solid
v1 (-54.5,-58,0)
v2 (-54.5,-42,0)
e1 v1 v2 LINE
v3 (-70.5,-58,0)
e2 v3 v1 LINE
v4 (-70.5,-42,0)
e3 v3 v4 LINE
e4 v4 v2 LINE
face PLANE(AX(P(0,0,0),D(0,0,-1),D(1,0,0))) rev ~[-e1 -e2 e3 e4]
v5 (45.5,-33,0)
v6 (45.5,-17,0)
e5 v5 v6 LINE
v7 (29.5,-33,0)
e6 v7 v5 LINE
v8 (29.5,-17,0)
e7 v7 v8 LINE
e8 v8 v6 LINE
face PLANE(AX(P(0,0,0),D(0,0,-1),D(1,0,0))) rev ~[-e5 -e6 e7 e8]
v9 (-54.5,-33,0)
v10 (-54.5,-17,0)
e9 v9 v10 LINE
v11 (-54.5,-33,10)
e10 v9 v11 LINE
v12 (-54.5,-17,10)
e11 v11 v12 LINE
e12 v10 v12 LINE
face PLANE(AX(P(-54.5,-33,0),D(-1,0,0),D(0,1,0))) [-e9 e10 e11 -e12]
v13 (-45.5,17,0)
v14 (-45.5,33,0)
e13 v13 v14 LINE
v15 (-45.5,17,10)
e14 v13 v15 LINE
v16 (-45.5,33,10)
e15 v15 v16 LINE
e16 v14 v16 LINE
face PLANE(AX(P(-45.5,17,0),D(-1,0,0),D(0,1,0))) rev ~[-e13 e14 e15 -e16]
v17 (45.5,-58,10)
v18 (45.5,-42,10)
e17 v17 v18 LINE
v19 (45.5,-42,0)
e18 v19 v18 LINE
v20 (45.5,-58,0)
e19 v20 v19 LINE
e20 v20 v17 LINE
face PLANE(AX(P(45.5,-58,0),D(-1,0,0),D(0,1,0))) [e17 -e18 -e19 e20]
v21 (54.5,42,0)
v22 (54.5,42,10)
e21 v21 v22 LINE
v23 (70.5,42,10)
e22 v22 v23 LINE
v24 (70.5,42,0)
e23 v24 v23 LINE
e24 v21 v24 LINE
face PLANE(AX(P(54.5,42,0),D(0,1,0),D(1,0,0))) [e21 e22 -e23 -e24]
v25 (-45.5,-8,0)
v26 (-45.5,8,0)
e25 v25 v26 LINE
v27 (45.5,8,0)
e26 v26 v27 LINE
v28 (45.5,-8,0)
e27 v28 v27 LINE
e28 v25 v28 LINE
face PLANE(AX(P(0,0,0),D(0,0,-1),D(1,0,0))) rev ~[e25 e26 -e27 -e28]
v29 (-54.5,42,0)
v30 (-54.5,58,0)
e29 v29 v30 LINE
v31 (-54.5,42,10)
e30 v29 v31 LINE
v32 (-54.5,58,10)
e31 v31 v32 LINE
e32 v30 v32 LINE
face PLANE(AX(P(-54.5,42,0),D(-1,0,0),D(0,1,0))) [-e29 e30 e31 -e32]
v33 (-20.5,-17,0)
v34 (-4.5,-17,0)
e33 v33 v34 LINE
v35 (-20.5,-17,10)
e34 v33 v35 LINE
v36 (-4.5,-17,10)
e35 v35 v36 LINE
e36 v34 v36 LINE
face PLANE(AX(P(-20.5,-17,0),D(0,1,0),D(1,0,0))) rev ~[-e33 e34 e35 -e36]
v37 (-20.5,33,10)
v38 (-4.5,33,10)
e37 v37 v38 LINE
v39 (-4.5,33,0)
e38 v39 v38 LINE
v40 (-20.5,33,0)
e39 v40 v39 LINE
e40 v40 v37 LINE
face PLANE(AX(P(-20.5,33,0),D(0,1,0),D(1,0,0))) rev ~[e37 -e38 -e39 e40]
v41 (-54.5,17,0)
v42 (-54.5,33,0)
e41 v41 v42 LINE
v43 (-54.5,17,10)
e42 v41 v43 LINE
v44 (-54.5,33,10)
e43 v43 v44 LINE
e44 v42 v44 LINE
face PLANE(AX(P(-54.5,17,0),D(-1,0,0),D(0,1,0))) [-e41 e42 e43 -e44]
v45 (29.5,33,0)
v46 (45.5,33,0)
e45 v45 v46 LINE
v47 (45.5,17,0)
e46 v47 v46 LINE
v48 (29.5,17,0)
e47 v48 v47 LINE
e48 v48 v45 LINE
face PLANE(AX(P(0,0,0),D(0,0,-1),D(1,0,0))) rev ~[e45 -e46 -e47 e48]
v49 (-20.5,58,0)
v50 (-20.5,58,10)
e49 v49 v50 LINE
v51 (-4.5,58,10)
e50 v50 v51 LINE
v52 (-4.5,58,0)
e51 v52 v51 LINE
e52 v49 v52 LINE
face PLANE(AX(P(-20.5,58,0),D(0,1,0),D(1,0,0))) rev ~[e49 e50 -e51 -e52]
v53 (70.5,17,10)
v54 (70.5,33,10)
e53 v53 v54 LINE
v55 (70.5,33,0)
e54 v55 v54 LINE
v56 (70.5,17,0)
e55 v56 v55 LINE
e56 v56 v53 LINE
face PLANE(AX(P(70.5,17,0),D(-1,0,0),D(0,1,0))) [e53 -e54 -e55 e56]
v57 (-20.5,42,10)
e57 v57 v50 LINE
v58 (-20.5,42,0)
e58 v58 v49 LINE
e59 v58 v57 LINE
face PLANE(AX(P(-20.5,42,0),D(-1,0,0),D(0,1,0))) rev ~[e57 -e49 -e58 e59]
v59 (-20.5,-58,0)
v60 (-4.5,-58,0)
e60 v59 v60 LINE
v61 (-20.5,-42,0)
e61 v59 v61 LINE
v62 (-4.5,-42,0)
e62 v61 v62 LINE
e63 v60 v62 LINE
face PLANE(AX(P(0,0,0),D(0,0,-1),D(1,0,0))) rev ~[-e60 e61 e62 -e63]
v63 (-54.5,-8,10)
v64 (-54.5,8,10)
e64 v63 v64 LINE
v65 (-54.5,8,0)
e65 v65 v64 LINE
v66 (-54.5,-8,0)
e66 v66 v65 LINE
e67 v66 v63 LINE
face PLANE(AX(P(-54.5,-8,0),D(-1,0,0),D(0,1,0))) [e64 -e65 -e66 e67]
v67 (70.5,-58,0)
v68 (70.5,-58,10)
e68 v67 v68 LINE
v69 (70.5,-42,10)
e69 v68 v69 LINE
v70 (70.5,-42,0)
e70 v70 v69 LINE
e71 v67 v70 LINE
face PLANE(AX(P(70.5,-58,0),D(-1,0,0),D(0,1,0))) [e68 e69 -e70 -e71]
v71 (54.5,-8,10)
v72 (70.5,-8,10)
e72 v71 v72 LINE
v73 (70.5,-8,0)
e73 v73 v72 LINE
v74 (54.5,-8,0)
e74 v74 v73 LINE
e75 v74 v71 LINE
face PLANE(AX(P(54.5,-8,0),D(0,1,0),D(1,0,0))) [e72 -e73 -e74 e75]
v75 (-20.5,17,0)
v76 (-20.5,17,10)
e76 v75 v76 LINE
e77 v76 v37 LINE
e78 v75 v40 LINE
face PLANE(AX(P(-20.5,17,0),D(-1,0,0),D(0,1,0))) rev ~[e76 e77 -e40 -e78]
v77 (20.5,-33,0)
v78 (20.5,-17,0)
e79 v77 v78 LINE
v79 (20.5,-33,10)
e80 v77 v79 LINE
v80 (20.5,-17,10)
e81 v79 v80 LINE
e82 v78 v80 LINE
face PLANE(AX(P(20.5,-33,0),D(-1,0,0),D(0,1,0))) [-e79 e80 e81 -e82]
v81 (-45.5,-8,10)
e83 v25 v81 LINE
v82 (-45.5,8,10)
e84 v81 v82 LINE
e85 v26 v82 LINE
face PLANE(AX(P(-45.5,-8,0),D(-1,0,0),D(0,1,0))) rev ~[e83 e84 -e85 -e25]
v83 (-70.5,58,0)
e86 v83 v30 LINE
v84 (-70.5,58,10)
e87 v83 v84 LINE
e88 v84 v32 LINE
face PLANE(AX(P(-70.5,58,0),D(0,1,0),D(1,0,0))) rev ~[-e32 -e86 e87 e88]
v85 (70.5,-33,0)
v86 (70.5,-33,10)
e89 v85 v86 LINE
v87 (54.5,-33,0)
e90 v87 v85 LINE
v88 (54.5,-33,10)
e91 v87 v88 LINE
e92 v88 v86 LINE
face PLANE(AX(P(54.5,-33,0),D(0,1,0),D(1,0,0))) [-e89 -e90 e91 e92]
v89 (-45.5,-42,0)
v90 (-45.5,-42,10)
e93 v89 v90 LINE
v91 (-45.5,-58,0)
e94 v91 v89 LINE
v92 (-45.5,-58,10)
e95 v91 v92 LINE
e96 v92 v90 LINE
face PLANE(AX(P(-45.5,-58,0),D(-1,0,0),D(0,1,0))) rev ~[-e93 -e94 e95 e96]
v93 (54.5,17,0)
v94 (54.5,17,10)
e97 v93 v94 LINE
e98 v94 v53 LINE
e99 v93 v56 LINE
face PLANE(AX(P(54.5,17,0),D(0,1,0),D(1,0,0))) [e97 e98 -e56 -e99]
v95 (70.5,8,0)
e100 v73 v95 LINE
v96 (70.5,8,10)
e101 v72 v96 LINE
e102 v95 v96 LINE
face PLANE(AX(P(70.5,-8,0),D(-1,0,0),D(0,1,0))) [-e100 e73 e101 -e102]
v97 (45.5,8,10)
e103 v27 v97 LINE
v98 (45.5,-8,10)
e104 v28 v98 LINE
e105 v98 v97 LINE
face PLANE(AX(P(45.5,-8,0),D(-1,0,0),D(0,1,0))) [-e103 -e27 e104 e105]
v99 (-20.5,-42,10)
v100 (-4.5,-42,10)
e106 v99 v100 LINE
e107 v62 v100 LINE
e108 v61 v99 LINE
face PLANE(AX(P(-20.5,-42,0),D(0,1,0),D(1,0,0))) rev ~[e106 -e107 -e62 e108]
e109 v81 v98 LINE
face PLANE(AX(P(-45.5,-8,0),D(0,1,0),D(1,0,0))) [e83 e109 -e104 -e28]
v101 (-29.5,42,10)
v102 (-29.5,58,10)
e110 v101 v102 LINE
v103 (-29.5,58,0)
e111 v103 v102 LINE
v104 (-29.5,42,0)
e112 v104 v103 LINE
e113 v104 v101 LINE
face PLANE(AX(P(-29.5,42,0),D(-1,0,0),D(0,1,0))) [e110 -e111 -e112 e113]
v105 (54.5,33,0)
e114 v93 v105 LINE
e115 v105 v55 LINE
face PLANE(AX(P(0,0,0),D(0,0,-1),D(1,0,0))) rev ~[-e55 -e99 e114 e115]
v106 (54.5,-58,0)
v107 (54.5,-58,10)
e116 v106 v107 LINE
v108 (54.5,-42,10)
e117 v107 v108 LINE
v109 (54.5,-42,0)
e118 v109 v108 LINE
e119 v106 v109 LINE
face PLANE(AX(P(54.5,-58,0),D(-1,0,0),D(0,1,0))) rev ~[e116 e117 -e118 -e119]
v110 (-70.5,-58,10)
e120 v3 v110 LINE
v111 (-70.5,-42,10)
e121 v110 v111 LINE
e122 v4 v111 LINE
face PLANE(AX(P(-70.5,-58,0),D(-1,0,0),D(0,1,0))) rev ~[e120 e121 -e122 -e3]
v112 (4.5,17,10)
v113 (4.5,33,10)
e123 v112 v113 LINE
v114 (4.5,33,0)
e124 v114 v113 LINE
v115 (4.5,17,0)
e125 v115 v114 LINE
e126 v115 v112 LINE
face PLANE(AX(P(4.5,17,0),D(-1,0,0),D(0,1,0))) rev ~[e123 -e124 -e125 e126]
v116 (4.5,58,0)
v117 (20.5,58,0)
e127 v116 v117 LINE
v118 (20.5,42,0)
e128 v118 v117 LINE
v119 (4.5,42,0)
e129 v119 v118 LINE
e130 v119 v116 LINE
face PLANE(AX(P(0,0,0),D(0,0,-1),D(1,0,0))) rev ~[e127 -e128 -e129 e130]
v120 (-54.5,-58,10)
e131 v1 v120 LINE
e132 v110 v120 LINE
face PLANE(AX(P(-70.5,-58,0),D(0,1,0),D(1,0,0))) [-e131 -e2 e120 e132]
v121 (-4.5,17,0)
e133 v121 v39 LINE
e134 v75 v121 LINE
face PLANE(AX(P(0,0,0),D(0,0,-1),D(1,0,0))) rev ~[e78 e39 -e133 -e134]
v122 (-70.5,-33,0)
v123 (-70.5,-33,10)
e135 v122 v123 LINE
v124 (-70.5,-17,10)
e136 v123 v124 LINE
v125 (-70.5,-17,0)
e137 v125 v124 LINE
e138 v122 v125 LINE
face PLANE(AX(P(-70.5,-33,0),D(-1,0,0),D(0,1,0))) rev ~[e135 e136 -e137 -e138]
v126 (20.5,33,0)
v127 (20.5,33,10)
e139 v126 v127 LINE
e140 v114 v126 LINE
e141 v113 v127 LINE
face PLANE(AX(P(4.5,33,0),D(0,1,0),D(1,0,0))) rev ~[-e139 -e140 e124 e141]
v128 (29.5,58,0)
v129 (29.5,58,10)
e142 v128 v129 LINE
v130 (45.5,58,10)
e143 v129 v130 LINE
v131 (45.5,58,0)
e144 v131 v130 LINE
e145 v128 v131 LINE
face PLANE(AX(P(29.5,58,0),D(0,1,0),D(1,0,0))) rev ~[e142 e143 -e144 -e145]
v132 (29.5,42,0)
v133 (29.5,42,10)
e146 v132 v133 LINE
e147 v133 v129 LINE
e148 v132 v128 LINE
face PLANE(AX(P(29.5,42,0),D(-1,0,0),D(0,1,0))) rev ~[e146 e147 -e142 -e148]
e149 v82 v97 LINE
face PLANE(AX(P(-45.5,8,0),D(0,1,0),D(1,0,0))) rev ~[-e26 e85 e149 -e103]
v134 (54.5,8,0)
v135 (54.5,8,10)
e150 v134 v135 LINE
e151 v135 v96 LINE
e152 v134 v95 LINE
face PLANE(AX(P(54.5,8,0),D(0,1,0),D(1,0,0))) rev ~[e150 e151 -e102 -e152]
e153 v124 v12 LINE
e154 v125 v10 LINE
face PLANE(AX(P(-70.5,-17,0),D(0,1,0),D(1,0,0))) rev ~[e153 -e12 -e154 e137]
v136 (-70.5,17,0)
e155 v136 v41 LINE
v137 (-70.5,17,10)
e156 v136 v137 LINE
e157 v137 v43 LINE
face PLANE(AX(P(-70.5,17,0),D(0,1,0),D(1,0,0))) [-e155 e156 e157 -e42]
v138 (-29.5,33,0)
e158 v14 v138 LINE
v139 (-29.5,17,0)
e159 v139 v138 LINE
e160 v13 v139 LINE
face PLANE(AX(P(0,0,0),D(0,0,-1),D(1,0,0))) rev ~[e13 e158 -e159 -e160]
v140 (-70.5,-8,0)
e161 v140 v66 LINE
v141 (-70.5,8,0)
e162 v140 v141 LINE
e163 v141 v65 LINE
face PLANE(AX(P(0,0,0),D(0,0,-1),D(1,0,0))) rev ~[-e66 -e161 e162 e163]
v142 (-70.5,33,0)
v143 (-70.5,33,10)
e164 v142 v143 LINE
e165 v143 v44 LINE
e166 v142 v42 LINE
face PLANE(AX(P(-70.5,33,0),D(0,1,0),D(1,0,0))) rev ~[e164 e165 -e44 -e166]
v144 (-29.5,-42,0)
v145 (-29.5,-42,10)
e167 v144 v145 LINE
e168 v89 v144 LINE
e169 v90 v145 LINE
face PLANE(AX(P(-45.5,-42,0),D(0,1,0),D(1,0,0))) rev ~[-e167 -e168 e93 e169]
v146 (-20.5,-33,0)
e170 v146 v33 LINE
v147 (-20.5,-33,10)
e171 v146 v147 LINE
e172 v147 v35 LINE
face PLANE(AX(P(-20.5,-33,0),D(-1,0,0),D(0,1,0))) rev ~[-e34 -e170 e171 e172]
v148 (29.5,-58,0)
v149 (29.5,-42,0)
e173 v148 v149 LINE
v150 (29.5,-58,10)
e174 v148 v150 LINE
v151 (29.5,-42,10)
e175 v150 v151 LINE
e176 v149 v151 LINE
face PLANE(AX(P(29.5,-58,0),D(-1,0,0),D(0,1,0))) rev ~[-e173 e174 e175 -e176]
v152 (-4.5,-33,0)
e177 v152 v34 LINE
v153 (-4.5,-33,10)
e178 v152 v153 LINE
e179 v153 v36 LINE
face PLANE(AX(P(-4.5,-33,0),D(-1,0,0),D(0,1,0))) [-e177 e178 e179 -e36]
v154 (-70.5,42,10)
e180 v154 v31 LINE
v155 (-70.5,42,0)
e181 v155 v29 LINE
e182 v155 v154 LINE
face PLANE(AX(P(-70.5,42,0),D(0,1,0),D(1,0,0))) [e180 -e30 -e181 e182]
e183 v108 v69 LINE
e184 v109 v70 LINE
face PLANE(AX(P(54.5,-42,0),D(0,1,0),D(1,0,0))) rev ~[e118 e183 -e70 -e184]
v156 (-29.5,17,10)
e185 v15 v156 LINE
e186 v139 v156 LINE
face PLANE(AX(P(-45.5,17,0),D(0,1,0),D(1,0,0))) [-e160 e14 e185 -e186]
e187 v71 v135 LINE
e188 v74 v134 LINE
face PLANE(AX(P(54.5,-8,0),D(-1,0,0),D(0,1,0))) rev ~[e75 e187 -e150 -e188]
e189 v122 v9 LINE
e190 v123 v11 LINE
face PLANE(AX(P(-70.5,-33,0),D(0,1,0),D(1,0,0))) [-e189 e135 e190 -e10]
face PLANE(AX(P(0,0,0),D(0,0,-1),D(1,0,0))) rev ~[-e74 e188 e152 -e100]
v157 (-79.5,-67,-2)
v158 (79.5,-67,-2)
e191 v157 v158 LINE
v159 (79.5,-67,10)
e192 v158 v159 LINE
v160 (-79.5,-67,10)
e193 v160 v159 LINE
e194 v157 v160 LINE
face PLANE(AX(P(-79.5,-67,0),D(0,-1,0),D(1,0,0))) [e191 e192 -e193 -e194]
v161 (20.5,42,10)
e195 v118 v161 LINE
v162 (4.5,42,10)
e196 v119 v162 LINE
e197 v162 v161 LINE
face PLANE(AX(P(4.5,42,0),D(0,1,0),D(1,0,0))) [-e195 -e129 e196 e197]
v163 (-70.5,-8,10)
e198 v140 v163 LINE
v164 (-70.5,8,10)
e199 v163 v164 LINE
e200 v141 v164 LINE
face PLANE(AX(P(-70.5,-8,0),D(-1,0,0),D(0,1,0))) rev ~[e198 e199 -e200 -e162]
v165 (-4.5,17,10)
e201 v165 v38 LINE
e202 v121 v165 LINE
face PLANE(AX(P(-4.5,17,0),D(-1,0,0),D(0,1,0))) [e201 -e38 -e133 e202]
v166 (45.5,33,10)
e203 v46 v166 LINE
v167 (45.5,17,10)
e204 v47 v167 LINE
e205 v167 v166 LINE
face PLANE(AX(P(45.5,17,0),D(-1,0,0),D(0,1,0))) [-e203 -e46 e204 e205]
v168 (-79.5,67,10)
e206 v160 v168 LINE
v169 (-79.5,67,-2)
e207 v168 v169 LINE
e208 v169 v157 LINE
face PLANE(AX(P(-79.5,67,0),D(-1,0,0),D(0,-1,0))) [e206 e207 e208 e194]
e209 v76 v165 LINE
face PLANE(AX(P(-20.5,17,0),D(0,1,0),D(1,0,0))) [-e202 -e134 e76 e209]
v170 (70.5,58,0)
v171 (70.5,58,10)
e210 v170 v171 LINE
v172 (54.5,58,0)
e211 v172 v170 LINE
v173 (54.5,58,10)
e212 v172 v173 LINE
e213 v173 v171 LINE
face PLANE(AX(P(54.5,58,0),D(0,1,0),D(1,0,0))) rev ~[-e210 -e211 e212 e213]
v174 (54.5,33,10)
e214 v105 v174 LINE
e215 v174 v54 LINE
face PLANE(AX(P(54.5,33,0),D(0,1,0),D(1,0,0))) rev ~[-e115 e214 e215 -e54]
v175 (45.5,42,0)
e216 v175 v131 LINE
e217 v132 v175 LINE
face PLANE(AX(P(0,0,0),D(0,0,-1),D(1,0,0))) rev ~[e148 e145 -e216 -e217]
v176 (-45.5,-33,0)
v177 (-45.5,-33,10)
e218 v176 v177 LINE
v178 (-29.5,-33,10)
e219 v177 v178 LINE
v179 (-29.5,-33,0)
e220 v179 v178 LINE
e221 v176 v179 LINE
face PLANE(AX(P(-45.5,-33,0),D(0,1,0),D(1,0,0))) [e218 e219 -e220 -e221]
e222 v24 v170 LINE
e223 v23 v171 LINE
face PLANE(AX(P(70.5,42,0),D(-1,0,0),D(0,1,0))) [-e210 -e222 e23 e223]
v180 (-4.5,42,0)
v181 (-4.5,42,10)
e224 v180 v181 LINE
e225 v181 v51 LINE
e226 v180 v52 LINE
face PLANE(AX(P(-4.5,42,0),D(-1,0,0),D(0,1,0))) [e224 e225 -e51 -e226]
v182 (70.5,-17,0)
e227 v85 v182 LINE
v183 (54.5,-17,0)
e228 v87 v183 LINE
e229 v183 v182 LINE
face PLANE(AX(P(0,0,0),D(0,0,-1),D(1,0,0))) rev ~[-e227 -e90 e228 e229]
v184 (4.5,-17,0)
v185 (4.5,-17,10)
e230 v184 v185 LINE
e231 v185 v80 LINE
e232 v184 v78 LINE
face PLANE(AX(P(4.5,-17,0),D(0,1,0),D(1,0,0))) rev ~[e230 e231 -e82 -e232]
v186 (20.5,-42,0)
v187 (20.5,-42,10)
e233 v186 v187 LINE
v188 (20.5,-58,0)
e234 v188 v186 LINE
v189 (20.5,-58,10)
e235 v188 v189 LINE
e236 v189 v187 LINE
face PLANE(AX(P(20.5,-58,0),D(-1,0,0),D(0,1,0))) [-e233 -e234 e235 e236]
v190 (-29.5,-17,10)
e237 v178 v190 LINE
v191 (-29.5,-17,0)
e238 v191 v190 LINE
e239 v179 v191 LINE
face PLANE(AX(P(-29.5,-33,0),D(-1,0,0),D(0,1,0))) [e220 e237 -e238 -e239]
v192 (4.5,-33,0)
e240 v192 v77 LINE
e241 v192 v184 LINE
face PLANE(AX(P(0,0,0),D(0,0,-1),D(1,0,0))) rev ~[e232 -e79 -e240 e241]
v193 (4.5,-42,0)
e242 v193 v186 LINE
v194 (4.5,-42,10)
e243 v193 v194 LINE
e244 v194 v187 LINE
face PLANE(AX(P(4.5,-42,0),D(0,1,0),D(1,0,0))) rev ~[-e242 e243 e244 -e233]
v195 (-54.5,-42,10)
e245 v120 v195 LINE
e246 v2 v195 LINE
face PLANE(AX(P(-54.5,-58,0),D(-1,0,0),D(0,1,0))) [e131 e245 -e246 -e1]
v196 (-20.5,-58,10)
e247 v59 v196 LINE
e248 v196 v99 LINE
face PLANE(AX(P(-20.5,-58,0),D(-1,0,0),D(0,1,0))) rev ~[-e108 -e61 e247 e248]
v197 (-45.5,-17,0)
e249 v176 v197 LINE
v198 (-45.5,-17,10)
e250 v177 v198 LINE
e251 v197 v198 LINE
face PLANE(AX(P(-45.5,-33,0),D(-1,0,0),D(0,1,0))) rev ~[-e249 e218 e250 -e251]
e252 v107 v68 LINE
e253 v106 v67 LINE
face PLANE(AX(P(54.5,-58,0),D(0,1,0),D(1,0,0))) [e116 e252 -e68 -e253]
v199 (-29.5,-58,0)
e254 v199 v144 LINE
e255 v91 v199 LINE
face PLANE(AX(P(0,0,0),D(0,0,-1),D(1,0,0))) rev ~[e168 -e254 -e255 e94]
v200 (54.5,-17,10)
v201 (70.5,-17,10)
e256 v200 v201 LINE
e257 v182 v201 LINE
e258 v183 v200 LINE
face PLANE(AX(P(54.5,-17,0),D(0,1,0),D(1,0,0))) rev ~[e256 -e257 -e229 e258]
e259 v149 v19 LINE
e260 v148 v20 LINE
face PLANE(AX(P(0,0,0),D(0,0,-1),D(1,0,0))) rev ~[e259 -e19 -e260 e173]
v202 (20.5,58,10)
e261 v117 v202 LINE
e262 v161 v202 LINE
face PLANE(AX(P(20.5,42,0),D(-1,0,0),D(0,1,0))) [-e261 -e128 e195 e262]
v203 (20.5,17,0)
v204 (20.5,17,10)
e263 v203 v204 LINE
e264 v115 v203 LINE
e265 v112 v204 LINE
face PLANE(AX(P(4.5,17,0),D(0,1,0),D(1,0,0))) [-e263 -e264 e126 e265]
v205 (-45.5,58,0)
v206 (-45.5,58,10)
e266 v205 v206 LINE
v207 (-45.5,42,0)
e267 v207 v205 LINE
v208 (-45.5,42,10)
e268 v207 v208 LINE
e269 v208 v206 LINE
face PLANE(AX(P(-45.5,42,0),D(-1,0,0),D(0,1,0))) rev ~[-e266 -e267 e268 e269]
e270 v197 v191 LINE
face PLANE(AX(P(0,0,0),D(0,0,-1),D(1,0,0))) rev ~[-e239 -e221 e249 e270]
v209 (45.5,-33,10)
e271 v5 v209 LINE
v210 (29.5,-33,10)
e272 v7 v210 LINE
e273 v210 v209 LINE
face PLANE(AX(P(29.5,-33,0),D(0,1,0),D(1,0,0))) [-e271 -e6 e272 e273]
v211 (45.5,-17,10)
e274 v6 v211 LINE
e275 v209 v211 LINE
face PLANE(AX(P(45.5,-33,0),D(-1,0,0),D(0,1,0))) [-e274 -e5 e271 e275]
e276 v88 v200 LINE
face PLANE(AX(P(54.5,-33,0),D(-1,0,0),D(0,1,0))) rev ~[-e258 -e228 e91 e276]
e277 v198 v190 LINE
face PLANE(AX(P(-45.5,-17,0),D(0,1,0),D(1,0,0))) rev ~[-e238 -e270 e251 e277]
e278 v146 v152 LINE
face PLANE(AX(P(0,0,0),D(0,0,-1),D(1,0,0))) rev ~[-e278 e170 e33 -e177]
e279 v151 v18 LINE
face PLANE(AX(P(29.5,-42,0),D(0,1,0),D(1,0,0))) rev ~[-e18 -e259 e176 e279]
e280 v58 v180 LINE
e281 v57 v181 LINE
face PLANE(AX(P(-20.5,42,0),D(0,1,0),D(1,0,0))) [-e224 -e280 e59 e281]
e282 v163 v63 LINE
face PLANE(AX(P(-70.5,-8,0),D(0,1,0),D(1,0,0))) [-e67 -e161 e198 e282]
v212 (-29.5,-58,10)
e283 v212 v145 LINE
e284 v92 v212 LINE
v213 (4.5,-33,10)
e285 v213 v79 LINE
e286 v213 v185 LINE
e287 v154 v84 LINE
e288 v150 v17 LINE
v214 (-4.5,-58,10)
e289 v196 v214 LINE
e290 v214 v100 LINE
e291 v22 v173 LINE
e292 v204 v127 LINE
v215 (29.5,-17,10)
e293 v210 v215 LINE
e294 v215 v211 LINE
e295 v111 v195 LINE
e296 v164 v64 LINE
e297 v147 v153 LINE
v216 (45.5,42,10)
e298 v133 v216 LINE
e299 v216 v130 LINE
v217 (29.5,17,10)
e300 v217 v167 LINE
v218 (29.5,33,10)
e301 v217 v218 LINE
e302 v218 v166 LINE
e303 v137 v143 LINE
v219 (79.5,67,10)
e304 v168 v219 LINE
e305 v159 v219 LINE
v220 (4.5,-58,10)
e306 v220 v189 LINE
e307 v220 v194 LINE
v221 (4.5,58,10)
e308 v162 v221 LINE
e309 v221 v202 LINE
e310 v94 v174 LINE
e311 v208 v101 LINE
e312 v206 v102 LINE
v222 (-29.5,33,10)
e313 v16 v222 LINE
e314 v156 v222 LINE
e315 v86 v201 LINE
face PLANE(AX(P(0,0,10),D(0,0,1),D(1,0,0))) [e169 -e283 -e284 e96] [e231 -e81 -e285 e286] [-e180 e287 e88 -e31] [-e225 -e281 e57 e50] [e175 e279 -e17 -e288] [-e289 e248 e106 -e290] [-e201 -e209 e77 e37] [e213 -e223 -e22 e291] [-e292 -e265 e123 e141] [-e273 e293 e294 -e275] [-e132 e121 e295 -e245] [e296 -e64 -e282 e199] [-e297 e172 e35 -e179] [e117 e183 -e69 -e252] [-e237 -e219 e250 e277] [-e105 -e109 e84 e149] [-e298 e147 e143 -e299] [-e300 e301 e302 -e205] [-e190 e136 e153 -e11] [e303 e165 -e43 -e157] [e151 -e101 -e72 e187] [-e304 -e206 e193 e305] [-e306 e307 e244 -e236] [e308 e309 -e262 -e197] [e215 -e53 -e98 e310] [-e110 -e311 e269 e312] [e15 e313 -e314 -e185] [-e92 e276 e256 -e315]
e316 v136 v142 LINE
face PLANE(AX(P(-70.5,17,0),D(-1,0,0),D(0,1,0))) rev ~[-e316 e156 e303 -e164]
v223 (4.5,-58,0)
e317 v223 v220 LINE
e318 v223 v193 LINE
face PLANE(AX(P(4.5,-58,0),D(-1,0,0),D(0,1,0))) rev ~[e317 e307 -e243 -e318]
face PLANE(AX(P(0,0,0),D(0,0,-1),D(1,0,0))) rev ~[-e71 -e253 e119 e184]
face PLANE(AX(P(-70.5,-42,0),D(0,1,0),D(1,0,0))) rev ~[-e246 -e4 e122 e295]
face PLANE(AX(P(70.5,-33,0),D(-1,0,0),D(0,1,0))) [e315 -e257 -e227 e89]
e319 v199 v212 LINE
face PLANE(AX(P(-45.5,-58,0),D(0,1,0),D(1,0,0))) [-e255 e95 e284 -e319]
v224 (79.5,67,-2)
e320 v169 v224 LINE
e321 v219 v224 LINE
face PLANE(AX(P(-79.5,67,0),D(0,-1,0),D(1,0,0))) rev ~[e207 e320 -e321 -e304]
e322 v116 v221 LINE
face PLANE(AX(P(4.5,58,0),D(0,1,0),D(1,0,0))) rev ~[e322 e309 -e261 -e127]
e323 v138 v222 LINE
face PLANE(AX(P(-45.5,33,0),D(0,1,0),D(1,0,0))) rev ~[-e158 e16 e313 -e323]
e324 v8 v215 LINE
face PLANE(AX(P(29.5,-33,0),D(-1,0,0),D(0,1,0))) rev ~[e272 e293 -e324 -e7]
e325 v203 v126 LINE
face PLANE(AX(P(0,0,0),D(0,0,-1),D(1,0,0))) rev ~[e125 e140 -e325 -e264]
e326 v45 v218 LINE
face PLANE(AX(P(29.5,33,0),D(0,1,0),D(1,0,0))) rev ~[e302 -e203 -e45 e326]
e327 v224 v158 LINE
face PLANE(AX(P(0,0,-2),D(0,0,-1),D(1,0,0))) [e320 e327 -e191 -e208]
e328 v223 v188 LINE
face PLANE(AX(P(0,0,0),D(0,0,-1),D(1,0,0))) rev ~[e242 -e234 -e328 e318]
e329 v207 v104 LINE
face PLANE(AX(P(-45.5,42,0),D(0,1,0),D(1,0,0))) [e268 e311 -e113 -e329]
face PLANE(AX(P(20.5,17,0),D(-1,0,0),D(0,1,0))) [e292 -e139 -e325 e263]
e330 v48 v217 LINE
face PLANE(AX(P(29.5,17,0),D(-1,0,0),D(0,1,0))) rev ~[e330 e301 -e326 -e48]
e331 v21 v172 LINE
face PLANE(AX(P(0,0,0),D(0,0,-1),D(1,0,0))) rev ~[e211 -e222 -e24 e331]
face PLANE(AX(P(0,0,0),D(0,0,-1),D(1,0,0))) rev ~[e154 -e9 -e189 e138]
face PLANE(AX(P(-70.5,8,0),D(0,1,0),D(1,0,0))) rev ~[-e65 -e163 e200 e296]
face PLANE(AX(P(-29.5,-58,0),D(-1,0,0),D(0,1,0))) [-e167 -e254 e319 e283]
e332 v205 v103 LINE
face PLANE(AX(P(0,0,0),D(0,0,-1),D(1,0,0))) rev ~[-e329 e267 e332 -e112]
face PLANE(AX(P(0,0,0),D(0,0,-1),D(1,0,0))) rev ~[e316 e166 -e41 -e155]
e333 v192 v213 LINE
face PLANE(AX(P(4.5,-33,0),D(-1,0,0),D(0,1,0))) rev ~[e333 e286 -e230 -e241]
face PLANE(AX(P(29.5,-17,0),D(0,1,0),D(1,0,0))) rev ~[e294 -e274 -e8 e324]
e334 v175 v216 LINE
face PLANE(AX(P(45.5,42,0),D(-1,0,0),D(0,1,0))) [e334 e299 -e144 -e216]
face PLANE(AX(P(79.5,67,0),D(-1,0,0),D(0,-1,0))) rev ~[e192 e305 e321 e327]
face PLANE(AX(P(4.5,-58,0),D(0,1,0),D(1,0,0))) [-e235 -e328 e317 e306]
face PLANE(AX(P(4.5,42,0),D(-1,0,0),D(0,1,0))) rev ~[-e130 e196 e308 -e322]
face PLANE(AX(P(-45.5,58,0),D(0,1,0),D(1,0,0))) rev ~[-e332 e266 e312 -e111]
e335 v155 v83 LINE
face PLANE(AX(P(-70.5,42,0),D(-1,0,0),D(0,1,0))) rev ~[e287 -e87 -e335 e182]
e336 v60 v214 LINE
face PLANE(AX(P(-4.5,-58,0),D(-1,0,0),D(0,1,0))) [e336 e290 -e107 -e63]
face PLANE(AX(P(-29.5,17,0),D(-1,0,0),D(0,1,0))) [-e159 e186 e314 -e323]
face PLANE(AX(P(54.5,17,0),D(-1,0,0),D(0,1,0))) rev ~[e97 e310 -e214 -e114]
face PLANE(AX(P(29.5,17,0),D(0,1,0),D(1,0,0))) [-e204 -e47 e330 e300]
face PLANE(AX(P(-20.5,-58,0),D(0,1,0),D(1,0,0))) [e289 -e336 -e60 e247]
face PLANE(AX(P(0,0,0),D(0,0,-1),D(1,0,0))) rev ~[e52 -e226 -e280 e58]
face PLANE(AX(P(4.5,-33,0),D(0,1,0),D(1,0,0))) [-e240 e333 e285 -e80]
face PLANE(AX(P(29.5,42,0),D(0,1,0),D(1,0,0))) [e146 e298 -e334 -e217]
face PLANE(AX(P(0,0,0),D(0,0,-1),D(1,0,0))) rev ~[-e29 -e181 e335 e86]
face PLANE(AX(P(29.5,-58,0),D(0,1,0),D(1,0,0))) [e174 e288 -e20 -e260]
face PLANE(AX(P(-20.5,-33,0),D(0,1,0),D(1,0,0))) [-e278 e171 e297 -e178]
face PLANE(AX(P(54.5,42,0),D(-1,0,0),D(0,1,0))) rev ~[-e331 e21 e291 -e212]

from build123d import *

# Parameters (mm, degrees)
F0_W     = 159
F0_H     = 134
F0_W_2   = 16
F0_H_2   = 16
F0_W_3   = 91
F1_DEPTH = 10
F2_W     = 159
F2_H     = 134
F3_DEPTH = 2


with BuildPart() as f1:
    # F0 (on Top) → F1 (new body)
    with BuildSketch(Plane.XY):
        Rectangle(F0_W, F0_H)
        with Locations((-62.5, -50)):
            Rectangle(F0_W_2, F0_H_2, mode=Mode.SUBTRACT)
        with Locations((-37.5, -50)):
            Rectangle(F0_W_2, F0_H_2, mode=Mode.SUBTRACT)
        with Locations((-12.5, -50)):
            Rectangle(F0_W_2, F0_H_2, mode=Mode.SUBTRACT)
        with Locations((-62.5, -25)):
            Rectangle(F0_W_2, F0_H_2, mode=Mode.SUBTRACT)
        with Locations((-37.5, -25)):
            Rectangle(F0_W_2, F0_H_2, mode=Mode.SUBTRACT)
        with Locations((-12.5, -25)):
            Rectangle(F0_W_2, F0_H_2, mode=Mode.SUBTRACT)
        with Locations((12.5, -50)):
            Rectangle(F0_W_2, F0_H_2, mode=Mode.SUBTRACT)
        with Locations((37.5, -50)):
            Rectangle(F0_W_2, F0_H_2, mode=Mode.SUBTRACT)
        with Locations((62.5, -50)):
            Rectangle(F0_W_2, F0_H_2, mode=Mode.SUBTRACT)
        with Locations((12.5, -25)):
            Rectangle(F0_W_2, F0_H_2, mode=Mode.SUBTRACT)
        with Locations((37.5, -25)):
            Rectangle(F0_W_2, F0_H_2, mode=Mode.SUBTRACT)
        with Locations((62.5, -25)):
            Rectangle(F0_W_2, F0_H_2, mode=Mode.SUBTRACT)
        with Locations((-62.5, 0)):
            Rectangle(F0_W_2, F0_H_2, mode=Mode.SUBTRACT)
        with Locations((-62.5, 25)):
            Rectangle(F0_W_2, F0_H_2, mode=Mode.SUBTRACT)
        with Locations((-37.5, 25)):
            Rectangle(F0_W_2, F0_H_2, mode=Mode.SUBTRACT)
        with Locations((-12.5, 25)):
            Rectangle(F0_W_2, F0_H_2, mode=Mode.SUBTRACT)
        with Locations((-62.5, 50)):
            Rectangle(F0_W_2, F0_H_2, mode=Mode.SUBTRACT)
        with Locations((-37.5, 50)):
            Rectangle(F0_W_2, F0_H_2, mode=Mode.SUBTRACT)
        with Locations((-12.5, 50)):
            Rectangle(F0_W_2, F0_H_2, mode=Mode.SUBTRACT)
        Rectangle(F0_W_3, F0_H_2, mode=Mode.SUBTRACT)
        with Locations((12.5, 25)):
            Rectangle(F0_W_2, F0_H_2, mode=Mode.SUBTRACT)
        with Locations((37.5, 25)):
            Rectangle(F0_W_2, F0_H_2, mode=Mode.SUBTRACT)
        with Locations((62.5, 0)):
            Rectangle(F0_W_2, F0_H_2, mode=Mode.SUBTRACT)
        with Locations((62.5, 25)):
            Rectangle(F0_W_2, F0_H_2, mode=Mode.SUBTRACT)
        with Locations((12.5, 50)):
            Rectangle(F0_W_2, F0_H_2, mode=Mode.SUBTRACT)
        with Locations((37.5, 50)):
            Rectangle(F0_W_2, F0_H_2, mode=Mode.SUBTRACT)
        with Locations((62.5, 50)):
            Rectangle(F0_W_2, F0_H_2, mode=Mode.SUBTRACT)
    extrude(amount=F1_DEPTH)

    # F2 (on face) → F3 (join)
    with BuildSketch(Plane(origin=(0, 0, 0), x_dir=(1, 0, 0), z_dir=(0, 0, -1))):
        Rectangle(F2_W, F2_H)
    extrude(amount=F3_DEPTH)


solid = f1.part
